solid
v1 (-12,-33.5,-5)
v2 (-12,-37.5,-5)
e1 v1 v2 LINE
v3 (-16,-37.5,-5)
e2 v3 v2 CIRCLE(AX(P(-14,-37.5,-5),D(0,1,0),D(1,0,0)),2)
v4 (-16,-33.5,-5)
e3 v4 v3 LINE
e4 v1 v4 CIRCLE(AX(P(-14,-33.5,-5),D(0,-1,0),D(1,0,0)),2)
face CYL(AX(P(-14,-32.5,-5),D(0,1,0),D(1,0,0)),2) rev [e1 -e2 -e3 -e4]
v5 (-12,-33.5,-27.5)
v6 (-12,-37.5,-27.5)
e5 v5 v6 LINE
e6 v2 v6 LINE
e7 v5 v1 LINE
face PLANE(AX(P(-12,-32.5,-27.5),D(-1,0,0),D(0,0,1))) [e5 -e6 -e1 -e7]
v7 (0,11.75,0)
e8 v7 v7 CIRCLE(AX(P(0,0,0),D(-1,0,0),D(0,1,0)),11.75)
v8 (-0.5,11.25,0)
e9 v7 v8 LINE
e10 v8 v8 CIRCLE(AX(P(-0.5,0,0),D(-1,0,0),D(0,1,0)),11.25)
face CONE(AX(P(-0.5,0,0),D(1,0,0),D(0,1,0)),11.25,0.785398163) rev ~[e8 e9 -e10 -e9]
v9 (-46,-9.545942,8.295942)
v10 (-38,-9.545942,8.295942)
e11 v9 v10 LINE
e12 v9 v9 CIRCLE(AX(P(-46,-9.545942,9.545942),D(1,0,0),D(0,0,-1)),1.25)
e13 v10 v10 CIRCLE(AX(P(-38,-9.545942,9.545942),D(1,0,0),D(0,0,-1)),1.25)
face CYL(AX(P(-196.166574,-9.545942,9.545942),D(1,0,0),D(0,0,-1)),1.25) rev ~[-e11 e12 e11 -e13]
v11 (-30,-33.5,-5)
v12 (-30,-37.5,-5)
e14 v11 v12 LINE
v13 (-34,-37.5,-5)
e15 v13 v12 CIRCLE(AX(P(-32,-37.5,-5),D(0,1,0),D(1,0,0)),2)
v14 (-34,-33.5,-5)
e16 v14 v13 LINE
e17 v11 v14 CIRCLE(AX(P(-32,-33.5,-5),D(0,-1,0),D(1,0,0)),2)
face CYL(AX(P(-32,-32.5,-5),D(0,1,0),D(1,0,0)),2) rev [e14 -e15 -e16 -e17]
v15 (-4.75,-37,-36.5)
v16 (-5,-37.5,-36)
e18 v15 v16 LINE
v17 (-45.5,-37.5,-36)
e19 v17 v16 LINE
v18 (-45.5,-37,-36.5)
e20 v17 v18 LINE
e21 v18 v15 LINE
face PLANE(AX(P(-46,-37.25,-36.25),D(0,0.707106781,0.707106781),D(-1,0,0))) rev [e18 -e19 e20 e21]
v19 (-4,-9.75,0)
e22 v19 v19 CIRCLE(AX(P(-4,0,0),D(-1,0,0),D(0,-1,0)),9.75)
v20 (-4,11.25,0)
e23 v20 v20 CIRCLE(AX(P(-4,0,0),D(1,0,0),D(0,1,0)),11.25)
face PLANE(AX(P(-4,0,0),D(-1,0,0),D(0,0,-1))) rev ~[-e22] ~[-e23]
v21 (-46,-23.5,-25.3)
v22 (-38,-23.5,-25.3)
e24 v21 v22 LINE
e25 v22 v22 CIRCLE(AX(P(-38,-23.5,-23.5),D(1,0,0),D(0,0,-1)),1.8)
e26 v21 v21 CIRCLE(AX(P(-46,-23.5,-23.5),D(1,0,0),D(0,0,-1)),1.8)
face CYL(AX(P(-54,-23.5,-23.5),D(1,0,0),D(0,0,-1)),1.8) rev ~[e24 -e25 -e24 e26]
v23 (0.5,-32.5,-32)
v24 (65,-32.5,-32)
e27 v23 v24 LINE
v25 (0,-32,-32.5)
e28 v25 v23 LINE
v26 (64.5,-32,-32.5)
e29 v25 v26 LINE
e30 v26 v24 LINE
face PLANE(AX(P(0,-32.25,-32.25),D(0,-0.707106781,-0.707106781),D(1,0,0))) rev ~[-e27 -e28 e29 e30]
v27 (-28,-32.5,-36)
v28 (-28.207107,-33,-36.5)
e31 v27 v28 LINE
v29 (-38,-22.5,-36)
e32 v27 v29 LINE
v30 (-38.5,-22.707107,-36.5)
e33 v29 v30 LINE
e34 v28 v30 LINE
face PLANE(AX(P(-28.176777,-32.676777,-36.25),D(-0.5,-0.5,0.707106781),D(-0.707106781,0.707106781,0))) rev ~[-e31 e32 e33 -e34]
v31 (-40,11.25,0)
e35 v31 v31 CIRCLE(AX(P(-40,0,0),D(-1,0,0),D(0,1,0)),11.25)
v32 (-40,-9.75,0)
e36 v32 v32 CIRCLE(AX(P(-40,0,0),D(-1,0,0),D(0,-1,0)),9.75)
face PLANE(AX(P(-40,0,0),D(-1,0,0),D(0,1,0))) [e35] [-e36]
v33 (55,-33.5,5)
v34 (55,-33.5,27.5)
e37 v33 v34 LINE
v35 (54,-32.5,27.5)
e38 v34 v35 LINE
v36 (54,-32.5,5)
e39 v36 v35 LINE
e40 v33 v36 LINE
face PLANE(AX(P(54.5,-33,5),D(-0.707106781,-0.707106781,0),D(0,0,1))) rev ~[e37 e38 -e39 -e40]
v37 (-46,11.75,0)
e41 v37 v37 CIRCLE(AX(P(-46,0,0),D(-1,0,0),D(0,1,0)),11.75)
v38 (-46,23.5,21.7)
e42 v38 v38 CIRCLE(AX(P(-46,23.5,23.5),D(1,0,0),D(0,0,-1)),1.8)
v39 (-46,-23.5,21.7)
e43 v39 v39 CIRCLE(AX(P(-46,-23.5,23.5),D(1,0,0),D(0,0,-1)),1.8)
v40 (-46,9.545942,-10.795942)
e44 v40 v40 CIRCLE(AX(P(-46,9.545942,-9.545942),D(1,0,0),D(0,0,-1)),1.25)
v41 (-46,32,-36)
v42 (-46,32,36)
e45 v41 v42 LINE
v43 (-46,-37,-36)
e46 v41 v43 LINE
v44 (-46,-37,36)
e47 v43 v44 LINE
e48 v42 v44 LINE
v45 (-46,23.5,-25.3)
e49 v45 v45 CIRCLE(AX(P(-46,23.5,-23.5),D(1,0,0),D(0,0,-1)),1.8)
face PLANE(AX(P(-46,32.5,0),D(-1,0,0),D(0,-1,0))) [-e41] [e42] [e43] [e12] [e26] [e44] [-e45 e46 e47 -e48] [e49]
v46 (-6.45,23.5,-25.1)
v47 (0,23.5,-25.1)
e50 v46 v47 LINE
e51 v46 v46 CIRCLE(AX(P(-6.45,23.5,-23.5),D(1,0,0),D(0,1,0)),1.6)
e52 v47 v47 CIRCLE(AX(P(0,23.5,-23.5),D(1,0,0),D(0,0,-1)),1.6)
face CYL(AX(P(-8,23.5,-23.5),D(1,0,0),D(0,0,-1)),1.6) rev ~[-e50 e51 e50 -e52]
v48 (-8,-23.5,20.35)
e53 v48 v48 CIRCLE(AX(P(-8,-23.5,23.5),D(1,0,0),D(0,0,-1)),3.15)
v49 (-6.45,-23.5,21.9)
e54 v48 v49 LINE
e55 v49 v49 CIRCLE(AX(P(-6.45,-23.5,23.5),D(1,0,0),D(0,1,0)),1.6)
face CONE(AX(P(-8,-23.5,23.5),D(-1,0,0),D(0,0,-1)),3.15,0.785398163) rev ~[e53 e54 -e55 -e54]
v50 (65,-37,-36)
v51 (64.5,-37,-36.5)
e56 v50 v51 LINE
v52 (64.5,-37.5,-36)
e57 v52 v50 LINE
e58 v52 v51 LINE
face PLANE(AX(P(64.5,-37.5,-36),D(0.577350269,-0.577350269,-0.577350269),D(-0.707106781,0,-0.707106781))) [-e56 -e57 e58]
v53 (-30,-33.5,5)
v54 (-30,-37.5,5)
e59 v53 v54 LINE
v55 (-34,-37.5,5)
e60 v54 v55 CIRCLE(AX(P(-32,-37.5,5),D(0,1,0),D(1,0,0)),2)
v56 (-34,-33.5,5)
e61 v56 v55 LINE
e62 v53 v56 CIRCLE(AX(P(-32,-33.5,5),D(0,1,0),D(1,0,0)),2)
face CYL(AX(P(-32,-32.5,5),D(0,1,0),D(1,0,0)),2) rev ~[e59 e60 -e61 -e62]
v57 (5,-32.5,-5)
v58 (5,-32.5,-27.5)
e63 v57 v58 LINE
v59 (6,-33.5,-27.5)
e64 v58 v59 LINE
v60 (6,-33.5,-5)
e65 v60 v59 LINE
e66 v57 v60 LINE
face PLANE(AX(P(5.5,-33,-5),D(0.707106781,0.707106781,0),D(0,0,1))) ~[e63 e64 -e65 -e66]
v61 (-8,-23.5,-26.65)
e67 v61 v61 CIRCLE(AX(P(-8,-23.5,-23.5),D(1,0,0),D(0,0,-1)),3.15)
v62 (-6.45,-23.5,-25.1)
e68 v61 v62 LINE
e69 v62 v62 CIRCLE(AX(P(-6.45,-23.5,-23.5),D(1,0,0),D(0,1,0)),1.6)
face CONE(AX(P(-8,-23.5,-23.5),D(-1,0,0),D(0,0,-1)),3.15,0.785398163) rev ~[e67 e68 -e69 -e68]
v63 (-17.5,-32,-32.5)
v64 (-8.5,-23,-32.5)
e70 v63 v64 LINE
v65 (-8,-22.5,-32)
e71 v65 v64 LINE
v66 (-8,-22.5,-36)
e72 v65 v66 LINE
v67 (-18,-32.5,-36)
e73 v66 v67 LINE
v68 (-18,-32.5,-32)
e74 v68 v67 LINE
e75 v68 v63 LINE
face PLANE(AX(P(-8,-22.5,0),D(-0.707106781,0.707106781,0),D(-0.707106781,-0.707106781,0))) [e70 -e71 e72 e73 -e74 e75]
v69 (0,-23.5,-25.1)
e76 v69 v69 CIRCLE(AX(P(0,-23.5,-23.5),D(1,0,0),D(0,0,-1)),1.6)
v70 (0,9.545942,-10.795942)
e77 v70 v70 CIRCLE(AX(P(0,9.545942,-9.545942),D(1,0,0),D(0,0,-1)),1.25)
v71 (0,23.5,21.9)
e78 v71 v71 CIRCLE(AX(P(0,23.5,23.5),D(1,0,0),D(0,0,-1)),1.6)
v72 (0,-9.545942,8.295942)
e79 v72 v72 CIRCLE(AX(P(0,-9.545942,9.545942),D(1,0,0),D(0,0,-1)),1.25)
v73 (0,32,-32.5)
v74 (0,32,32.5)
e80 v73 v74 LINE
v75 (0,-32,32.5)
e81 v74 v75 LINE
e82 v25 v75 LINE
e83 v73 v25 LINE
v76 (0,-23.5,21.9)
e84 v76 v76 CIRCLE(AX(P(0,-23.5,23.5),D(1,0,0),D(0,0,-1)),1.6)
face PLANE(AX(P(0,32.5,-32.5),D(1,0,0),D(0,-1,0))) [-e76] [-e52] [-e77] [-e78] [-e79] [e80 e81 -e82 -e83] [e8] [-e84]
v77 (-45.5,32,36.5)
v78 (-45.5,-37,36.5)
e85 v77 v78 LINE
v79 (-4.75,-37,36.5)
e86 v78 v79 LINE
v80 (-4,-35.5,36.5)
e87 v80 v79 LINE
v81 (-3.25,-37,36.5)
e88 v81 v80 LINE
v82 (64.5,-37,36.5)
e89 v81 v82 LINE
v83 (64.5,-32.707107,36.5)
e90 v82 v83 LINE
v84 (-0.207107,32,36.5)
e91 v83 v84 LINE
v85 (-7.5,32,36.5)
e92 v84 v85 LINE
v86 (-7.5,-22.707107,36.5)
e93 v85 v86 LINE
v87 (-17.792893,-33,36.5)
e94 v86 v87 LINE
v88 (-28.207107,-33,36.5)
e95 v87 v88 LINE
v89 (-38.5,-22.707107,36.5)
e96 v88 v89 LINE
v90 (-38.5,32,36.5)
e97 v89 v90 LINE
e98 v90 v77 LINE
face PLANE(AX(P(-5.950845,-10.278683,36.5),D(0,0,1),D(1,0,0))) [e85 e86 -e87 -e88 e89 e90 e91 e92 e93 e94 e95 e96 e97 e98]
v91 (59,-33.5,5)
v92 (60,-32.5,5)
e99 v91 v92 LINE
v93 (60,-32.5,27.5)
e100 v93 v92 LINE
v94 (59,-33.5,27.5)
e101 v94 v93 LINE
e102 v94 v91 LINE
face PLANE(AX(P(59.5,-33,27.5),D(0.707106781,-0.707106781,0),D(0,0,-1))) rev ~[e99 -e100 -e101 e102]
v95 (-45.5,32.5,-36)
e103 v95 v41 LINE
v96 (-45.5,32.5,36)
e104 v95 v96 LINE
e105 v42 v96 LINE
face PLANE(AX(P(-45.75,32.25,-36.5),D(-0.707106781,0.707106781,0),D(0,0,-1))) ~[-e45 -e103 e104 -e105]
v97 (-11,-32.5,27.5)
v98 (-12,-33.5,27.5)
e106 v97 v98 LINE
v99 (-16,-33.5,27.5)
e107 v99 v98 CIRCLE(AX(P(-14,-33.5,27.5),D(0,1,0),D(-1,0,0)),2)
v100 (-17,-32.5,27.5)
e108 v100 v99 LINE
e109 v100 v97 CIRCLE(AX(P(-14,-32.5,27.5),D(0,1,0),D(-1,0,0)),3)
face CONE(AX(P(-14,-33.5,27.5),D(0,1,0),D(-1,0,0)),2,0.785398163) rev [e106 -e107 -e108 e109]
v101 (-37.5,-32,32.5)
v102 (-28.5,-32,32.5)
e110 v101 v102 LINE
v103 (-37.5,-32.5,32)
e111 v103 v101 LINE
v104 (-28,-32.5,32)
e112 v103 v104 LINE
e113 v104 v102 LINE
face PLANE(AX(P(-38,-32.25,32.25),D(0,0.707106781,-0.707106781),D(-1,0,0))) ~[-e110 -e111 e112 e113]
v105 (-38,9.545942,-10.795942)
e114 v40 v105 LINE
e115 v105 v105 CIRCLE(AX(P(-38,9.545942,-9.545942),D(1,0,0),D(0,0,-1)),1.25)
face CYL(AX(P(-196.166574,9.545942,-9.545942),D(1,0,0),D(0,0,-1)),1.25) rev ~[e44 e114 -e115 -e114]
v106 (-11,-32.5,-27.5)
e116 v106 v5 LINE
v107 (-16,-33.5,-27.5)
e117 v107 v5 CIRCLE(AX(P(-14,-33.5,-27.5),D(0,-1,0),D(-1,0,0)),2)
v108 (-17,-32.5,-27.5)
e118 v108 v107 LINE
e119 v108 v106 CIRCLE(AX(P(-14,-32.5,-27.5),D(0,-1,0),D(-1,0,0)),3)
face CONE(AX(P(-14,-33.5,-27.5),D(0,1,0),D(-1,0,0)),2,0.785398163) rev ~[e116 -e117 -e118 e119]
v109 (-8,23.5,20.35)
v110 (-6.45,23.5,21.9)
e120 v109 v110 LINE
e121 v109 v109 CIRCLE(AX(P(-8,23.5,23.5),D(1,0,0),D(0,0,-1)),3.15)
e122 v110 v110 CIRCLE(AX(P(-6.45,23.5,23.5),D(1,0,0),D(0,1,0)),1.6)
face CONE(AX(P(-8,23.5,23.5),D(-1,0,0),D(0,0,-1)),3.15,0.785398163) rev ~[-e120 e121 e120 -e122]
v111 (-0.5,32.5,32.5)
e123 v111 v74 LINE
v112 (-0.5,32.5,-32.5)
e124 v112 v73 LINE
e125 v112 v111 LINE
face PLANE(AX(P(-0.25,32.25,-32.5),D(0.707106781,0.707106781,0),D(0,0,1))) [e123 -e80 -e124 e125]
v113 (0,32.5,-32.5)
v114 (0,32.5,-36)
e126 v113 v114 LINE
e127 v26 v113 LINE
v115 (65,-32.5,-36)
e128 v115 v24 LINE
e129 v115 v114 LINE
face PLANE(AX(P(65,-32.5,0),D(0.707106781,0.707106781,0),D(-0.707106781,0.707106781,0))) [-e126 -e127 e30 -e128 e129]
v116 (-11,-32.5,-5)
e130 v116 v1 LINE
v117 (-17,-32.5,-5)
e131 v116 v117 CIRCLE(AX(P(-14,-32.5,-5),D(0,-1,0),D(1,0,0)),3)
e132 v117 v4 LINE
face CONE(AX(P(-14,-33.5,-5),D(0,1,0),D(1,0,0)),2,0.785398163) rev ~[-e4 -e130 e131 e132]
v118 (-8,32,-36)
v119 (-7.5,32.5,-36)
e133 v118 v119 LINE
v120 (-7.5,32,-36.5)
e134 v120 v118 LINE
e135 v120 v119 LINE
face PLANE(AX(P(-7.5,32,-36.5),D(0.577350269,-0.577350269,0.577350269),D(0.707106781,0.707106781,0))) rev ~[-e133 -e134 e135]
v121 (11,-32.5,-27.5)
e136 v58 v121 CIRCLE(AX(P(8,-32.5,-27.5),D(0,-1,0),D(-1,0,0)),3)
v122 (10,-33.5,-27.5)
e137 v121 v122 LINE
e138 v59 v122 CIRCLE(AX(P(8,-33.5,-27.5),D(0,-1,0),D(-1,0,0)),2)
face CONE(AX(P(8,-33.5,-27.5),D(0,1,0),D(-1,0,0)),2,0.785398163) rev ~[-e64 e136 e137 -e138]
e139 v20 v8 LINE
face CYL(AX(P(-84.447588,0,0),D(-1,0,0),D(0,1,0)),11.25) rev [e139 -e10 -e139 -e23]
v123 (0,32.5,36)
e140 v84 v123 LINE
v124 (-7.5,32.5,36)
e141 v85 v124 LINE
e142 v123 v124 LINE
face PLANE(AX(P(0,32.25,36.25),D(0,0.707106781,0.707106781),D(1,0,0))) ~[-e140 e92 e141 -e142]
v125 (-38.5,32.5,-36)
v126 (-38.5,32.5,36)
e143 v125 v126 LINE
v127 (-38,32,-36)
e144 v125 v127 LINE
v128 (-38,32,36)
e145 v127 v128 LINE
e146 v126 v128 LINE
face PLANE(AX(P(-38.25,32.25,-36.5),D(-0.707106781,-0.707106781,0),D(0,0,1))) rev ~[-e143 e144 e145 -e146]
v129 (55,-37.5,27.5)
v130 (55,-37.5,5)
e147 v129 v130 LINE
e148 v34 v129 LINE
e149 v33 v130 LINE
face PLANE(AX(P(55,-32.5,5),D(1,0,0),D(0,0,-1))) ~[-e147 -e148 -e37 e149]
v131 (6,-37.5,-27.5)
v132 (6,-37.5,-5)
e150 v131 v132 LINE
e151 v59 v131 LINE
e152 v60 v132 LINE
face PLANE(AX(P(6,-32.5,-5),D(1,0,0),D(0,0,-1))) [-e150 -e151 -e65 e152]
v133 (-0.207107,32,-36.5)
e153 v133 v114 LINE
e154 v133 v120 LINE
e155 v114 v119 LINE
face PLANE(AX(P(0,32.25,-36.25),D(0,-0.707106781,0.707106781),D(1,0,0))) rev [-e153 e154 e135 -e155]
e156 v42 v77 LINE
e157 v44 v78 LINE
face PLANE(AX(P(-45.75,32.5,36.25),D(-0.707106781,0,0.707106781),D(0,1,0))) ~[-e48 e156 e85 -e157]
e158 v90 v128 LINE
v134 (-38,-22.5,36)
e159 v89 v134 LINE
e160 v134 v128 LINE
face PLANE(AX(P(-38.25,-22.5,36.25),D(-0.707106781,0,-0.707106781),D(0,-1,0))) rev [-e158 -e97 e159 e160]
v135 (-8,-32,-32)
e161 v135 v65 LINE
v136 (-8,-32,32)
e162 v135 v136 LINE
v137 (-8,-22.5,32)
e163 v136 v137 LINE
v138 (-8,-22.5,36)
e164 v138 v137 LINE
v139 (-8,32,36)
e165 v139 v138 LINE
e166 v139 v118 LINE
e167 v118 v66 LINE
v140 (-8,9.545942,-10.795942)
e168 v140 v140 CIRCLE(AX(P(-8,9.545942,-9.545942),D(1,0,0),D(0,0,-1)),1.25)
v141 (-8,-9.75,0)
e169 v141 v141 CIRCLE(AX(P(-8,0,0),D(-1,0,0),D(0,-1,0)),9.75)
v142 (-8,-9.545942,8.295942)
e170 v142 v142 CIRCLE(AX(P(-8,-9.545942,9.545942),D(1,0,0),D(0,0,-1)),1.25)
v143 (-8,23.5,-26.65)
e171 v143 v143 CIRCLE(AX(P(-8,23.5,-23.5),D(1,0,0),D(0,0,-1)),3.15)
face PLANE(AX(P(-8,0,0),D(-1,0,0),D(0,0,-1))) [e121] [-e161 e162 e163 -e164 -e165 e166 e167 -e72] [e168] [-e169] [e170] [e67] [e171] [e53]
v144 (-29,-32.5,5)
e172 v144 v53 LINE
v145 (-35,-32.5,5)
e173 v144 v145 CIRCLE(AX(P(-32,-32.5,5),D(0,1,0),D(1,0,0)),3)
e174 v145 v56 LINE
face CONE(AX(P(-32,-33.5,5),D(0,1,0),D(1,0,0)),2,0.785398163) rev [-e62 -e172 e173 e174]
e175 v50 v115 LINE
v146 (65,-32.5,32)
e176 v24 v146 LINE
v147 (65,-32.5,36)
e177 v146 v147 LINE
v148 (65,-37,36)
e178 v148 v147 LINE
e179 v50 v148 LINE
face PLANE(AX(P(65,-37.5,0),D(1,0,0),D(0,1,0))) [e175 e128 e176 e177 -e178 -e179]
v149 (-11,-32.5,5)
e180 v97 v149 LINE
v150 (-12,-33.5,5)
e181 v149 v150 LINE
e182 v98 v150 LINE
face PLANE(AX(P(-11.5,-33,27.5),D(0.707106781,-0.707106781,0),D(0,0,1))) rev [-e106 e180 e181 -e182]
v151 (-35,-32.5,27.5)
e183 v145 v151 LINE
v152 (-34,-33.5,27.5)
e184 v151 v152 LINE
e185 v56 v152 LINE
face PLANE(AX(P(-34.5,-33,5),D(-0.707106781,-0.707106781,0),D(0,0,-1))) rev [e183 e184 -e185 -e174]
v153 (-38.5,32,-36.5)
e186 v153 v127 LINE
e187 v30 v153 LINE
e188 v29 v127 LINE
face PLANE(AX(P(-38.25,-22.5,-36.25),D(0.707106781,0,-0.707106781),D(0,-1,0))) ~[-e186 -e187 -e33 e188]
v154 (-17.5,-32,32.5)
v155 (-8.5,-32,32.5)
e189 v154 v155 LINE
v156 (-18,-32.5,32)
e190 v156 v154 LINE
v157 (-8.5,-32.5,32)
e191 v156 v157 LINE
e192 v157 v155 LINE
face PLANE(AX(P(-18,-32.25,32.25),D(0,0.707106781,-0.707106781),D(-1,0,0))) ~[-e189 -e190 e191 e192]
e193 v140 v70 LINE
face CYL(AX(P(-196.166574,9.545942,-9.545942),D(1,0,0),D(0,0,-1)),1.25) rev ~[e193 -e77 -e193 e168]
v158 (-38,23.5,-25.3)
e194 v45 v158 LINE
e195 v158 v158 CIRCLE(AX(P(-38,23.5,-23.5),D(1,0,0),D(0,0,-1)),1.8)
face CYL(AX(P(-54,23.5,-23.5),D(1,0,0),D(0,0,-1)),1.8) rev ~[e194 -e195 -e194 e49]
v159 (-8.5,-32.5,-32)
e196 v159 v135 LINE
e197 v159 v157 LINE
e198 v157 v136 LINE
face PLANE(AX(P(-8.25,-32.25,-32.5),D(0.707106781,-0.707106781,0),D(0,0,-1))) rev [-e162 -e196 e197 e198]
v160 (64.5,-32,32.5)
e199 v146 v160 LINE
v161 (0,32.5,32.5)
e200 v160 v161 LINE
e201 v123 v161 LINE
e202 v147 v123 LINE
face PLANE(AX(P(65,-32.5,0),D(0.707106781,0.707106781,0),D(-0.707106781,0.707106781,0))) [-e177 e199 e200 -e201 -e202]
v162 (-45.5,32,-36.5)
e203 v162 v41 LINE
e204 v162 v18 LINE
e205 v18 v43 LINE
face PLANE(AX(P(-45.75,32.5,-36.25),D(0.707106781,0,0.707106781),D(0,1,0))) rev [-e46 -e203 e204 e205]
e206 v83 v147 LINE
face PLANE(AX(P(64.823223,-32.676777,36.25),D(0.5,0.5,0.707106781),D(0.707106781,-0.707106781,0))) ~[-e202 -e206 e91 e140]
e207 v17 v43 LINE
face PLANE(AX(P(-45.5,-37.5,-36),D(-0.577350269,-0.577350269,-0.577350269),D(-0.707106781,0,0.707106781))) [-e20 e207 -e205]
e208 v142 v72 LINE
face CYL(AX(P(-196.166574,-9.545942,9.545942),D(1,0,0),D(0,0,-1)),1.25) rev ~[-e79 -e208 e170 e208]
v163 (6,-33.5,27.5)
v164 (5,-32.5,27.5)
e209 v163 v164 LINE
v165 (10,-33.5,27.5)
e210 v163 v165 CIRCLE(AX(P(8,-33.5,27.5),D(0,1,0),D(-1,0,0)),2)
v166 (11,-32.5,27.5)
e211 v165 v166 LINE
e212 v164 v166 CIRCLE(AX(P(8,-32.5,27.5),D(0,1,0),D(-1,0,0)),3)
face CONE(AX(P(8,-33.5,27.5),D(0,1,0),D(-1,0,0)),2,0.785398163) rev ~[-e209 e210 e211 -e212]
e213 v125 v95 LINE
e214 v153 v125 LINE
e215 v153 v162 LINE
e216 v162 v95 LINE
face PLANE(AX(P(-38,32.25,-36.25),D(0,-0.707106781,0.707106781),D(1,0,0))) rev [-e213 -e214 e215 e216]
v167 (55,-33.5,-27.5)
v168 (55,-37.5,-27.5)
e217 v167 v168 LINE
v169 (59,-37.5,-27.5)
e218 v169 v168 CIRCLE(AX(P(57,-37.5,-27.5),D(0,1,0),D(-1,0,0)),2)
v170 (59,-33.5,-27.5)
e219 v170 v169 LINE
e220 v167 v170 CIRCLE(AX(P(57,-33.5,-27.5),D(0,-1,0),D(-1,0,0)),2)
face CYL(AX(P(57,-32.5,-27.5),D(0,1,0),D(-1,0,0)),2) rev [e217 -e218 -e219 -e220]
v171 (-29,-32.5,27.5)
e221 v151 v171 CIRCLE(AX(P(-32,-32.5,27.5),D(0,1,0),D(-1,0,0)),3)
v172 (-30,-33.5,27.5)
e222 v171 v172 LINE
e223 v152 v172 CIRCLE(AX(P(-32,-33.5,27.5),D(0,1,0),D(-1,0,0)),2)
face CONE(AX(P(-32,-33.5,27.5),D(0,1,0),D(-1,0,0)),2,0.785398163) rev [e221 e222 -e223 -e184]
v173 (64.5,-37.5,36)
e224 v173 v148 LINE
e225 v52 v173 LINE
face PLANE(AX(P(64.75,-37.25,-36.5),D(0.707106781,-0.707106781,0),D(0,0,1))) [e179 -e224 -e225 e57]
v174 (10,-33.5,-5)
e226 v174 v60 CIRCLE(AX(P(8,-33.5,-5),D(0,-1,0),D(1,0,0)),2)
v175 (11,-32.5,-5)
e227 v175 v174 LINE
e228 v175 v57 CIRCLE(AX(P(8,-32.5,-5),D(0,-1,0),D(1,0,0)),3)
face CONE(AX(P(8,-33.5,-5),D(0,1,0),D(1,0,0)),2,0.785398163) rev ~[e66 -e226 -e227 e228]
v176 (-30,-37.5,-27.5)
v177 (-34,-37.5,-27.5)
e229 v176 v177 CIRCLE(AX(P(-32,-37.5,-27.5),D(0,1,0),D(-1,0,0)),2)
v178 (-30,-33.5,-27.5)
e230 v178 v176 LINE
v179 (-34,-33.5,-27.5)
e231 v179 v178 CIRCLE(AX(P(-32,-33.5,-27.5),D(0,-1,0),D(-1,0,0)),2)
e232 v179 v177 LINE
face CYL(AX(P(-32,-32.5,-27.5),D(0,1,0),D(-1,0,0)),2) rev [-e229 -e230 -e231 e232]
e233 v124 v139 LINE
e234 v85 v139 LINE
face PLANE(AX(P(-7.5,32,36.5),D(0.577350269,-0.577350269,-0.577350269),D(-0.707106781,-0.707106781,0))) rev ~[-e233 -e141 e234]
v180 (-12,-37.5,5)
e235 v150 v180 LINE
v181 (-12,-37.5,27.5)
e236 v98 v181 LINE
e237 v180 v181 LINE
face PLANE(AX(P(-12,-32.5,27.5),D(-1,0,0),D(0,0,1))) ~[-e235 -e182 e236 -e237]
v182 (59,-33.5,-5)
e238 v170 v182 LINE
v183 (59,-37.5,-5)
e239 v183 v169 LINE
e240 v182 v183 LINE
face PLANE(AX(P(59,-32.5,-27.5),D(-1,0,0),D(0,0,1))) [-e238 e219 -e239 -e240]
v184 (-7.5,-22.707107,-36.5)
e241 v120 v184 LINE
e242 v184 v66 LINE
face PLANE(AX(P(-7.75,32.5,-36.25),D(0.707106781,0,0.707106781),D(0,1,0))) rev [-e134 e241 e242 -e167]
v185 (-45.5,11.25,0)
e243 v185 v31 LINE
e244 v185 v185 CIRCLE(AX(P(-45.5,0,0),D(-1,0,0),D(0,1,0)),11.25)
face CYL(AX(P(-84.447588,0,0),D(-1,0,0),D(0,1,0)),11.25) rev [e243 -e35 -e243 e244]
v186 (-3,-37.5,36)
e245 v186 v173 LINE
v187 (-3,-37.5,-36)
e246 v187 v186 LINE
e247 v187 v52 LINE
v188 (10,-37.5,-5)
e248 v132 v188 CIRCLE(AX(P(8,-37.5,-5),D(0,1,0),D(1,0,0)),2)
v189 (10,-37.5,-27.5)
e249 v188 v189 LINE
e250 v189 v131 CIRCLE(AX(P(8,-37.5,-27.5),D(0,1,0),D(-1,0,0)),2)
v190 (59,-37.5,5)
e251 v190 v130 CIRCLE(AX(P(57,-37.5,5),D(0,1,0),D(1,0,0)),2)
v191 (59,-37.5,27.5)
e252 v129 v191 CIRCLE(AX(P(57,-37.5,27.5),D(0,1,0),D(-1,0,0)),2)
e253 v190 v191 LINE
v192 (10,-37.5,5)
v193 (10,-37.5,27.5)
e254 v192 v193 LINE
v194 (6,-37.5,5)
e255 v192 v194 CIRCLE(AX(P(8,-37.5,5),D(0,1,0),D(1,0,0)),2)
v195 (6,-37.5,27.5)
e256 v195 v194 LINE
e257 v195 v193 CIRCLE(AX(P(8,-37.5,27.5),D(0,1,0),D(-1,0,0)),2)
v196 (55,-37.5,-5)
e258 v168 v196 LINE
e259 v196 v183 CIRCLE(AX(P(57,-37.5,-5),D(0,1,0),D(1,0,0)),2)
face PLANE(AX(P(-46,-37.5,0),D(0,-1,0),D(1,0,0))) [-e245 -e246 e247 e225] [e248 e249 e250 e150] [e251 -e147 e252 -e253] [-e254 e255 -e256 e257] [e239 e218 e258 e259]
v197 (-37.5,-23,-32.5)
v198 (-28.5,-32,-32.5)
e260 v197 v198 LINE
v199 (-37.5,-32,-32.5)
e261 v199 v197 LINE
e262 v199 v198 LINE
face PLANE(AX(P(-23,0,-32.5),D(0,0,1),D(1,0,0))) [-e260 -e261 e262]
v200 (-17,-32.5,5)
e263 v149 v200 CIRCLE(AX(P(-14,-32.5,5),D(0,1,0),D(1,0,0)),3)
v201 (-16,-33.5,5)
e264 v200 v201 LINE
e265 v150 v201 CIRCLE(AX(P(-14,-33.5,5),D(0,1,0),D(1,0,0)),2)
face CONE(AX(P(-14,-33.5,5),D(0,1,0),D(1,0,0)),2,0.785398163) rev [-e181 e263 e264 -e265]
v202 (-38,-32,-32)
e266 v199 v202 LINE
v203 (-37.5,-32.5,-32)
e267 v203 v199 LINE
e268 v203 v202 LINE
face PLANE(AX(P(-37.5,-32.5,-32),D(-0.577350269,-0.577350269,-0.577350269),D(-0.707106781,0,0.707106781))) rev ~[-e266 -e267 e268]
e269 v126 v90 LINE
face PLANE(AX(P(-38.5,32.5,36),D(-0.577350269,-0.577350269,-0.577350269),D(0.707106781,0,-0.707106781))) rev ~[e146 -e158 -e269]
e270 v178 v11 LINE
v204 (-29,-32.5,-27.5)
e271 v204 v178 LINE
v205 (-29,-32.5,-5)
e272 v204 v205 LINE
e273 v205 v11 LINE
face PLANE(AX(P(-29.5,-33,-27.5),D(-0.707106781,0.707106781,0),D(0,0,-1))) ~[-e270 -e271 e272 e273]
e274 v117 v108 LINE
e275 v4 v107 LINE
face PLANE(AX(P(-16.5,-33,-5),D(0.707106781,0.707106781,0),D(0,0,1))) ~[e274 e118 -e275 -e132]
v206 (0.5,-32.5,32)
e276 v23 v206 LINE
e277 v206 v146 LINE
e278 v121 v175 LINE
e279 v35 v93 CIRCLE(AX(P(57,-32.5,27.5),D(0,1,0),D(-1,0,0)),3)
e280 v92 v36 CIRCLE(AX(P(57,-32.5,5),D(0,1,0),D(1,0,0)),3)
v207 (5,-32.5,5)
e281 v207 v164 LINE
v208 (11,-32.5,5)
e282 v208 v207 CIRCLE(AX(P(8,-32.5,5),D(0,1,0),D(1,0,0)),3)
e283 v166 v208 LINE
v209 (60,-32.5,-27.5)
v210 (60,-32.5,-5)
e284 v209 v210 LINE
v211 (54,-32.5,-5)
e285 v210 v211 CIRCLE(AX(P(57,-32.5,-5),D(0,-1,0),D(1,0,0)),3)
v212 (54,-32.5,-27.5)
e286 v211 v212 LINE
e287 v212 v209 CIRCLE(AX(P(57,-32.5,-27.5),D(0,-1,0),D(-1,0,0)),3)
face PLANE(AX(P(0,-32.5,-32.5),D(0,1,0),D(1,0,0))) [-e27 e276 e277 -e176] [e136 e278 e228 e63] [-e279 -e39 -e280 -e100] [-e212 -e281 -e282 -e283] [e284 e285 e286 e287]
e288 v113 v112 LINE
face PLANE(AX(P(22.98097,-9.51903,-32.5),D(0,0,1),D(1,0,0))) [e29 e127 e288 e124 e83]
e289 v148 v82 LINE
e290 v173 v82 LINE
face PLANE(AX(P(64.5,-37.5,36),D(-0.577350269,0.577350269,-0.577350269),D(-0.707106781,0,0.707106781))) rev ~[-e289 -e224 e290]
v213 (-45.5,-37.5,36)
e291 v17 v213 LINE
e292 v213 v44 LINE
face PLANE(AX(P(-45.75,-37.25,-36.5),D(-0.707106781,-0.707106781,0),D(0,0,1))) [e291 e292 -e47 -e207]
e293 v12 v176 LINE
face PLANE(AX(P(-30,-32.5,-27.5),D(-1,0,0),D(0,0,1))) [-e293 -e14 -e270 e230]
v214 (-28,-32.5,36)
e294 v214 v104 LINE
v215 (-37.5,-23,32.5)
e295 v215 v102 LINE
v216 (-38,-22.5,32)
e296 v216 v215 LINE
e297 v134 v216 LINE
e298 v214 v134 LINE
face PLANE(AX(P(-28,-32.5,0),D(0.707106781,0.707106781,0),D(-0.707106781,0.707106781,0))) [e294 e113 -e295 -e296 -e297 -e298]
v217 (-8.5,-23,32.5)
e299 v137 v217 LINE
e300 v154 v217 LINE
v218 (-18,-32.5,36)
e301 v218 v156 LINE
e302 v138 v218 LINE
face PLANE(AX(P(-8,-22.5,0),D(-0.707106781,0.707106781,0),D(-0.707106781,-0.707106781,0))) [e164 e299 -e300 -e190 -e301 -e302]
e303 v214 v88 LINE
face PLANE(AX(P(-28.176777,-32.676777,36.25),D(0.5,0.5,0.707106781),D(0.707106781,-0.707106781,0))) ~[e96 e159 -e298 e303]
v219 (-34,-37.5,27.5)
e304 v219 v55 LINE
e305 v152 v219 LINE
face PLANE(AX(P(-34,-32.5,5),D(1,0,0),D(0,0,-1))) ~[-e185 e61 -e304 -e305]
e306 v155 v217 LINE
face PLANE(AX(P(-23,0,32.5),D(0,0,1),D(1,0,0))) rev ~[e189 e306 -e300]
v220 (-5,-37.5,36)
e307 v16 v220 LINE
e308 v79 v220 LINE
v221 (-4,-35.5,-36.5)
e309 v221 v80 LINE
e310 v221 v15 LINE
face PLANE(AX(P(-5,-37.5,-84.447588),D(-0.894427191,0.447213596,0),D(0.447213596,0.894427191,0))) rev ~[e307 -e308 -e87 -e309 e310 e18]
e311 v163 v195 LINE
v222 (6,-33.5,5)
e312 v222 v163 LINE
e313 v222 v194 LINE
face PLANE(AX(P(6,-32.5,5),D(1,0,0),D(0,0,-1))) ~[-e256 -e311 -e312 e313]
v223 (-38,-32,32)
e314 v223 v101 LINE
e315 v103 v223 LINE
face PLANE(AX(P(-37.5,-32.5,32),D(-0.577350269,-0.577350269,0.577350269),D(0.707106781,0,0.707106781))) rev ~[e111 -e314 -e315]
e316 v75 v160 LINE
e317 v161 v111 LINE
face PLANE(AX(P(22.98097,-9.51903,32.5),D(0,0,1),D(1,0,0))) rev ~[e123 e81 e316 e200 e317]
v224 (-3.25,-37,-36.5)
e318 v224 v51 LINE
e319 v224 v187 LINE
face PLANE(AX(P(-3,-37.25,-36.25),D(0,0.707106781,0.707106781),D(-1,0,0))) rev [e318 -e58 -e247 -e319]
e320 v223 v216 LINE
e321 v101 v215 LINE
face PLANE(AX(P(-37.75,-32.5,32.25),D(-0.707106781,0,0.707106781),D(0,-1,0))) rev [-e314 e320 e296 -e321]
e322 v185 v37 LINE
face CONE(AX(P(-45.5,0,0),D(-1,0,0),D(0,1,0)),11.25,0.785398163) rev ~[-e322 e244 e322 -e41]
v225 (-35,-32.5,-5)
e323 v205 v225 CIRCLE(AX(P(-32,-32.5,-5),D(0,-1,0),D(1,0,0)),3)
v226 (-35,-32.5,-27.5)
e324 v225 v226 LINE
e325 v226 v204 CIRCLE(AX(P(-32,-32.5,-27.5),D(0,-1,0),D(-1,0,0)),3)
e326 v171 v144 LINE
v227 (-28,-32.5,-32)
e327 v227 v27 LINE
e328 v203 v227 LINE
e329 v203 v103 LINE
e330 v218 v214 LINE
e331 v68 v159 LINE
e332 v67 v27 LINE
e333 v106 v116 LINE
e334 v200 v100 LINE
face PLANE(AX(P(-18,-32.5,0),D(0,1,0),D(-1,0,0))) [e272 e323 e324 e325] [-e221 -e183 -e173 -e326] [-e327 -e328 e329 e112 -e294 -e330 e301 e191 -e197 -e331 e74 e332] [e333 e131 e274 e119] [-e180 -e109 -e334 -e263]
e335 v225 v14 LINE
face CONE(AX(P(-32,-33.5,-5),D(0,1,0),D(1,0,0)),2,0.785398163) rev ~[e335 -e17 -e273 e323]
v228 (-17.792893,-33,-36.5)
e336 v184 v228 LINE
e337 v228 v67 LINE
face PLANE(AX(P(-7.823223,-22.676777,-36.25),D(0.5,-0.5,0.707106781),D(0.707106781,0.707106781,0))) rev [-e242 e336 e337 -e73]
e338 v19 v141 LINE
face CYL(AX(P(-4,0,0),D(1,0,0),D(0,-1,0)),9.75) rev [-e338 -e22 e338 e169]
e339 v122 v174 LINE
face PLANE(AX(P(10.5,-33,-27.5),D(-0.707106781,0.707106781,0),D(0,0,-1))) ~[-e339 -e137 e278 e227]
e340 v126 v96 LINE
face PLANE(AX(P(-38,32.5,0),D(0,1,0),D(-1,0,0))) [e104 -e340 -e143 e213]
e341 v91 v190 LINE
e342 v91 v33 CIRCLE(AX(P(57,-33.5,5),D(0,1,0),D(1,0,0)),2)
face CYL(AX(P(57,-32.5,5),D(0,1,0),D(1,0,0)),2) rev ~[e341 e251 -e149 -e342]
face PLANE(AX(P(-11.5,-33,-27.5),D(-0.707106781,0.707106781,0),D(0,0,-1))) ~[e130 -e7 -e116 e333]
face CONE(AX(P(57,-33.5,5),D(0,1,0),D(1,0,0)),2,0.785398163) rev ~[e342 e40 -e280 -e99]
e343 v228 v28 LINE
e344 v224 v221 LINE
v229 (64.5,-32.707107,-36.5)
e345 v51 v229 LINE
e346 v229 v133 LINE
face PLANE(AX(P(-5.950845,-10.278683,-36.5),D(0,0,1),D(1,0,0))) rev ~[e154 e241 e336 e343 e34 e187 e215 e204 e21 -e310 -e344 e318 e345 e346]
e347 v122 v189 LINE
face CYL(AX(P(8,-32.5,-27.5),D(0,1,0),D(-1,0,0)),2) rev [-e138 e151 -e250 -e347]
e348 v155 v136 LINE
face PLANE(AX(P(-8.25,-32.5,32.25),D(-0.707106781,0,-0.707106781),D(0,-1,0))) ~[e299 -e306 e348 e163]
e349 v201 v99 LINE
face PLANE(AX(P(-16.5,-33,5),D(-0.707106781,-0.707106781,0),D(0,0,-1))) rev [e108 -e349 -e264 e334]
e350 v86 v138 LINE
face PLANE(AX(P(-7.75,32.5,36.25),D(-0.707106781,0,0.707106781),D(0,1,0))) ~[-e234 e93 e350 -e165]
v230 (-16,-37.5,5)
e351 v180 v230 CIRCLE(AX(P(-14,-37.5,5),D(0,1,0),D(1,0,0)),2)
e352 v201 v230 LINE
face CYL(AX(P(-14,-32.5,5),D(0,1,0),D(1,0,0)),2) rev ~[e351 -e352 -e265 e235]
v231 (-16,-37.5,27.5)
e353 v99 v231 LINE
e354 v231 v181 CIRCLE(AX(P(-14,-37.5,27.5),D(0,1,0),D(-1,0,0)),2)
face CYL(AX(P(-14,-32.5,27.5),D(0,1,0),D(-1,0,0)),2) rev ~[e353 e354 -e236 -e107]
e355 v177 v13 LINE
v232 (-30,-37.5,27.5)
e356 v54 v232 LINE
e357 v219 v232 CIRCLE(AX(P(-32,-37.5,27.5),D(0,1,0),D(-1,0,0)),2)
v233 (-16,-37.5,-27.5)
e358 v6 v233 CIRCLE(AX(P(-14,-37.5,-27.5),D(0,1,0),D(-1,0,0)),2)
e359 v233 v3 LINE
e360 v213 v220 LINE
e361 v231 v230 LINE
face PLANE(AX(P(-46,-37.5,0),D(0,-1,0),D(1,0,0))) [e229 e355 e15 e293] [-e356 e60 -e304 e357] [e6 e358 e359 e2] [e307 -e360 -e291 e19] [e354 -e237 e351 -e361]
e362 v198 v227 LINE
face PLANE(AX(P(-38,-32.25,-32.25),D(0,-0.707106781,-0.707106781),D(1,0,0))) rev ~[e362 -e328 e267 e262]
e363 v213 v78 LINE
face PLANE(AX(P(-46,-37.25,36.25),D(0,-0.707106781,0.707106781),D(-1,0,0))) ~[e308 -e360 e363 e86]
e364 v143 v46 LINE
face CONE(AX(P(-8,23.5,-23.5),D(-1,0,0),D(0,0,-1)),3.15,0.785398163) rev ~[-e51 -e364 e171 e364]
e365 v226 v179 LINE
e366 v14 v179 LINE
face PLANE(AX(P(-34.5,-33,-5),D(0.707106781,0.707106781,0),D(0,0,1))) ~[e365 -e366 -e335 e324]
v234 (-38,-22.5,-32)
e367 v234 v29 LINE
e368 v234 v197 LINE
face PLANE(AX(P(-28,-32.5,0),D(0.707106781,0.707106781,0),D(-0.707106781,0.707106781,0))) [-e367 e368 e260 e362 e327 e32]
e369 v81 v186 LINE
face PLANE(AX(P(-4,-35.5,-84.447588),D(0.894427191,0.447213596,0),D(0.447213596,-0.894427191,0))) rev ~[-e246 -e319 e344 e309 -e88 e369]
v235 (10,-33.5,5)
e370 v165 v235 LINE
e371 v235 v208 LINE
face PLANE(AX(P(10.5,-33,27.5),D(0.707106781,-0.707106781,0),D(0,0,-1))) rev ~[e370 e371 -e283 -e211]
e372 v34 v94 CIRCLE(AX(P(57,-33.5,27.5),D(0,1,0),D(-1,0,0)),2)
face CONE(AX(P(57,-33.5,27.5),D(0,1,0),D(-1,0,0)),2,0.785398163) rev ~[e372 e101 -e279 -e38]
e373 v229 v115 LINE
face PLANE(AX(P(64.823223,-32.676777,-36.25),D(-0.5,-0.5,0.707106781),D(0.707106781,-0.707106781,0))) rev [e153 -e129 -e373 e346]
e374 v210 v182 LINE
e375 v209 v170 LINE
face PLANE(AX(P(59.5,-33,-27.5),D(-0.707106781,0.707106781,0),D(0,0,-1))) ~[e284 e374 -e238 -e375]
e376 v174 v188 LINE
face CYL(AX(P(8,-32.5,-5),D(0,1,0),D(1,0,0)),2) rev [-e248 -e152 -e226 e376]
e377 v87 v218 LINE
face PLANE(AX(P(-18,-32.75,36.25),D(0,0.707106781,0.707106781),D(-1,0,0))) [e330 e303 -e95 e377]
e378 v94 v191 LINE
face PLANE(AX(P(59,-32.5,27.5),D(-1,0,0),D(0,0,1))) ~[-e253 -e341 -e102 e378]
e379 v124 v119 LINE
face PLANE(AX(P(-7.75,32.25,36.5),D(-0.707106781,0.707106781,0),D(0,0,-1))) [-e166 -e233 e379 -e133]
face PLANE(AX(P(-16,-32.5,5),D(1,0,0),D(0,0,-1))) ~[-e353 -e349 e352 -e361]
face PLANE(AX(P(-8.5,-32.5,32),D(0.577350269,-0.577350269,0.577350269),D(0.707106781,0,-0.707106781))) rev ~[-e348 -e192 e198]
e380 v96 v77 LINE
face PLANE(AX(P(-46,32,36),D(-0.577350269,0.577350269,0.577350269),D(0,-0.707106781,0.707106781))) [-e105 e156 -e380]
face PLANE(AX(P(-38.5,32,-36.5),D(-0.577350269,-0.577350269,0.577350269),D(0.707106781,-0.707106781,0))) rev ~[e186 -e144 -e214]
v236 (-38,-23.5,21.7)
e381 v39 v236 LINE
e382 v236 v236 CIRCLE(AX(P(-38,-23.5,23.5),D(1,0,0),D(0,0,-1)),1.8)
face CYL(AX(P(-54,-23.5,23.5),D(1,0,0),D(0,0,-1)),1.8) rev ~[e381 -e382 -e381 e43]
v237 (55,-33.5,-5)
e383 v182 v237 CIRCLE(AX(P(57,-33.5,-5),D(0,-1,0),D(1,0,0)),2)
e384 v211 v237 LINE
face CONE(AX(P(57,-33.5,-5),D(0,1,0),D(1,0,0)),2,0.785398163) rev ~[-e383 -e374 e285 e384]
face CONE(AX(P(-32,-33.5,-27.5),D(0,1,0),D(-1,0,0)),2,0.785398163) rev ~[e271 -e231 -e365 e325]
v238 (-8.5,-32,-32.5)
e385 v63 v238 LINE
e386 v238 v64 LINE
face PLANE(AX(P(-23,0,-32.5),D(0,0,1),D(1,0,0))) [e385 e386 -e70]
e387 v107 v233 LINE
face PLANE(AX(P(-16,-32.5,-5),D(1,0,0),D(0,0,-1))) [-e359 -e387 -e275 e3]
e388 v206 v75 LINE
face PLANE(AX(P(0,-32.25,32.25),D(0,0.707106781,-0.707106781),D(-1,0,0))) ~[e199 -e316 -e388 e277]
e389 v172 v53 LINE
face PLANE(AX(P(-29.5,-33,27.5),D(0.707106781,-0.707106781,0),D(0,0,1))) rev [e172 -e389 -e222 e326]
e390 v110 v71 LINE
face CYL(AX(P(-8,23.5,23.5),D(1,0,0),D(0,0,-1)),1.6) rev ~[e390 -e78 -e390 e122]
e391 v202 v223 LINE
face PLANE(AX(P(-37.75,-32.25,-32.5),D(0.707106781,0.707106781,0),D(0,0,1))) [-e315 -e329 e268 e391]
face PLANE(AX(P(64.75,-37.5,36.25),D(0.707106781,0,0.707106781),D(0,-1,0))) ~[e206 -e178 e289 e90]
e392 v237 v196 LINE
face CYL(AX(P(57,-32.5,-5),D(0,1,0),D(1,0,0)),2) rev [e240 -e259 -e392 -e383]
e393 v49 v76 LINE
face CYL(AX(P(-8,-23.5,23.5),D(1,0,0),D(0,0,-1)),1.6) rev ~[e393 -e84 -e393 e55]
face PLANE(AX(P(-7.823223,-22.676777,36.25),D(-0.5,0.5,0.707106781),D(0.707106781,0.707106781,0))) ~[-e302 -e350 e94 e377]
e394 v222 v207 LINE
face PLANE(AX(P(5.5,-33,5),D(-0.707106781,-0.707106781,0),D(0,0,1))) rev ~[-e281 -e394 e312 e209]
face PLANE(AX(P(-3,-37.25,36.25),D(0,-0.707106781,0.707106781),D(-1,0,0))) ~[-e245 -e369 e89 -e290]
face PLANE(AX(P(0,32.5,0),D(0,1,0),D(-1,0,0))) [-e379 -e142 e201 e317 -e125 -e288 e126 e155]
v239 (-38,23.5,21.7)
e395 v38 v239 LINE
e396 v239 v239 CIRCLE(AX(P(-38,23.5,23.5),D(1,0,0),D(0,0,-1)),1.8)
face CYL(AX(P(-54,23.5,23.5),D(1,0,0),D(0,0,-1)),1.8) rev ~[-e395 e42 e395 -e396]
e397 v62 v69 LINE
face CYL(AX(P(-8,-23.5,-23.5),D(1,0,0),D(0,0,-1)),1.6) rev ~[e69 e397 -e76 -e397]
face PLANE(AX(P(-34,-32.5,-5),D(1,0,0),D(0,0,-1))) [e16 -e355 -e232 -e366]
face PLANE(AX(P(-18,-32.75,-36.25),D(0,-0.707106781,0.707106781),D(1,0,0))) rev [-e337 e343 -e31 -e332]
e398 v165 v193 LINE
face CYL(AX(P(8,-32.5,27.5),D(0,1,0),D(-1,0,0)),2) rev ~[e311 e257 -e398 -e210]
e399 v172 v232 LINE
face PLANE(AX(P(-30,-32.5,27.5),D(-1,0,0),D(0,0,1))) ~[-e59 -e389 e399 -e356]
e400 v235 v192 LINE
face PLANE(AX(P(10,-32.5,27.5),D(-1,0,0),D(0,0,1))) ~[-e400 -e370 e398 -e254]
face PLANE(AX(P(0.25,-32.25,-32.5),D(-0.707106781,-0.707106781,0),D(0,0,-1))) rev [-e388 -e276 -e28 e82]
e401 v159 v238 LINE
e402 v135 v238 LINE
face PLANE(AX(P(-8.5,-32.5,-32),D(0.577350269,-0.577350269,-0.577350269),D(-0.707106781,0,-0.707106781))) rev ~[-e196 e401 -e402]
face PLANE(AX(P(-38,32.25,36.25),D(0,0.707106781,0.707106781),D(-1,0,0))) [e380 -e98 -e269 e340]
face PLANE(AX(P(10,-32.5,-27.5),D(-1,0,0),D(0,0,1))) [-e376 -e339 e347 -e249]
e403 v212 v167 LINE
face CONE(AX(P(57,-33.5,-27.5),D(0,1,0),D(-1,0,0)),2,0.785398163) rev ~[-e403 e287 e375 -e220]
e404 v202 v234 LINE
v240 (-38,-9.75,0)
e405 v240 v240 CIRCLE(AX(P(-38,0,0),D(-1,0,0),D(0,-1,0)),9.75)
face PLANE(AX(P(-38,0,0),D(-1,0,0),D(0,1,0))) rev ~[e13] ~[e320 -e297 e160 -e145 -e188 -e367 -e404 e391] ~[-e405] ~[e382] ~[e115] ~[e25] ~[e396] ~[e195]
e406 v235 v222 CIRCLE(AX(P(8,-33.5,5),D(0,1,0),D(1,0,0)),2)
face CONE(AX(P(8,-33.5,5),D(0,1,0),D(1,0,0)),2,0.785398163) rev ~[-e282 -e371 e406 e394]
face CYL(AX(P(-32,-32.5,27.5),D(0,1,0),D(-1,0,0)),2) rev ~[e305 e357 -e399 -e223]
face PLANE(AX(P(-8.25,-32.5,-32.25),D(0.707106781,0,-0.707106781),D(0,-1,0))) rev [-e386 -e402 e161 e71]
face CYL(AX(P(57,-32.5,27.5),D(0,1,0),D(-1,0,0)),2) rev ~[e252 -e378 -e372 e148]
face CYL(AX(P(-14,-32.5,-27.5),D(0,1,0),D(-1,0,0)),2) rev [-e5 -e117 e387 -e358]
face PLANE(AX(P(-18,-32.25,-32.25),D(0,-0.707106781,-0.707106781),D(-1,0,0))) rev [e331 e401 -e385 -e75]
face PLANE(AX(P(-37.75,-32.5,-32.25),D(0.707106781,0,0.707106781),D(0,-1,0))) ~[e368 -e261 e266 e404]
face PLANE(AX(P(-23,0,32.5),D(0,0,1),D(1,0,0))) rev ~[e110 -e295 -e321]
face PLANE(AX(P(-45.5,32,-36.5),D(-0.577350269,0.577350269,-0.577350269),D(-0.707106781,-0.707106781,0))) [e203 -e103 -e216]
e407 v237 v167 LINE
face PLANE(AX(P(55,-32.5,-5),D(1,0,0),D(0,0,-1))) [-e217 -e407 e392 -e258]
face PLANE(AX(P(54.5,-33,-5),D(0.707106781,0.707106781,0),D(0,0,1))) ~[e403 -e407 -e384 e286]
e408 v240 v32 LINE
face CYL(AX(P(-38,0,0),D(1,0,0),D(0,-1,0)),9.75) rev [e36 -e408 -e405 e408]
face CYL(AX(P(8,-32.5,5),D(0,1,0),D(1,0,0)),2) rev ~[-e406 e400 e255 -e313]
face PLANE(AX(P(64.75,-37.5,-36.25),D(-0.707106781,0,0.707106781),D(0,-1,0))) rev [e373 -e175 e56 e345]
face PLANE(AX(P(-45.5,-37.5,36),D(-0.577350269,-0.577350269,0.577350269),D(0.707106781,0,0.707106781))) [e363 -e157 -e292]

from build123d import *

# Parameters (mm, degrees)
BOSS_EXTRUDE1_DEPTH                             = 36.5
CUT_EXTRUDE1_DEPTH                              = 32.5
CUT_EXTRUDE1_DEPTH_BACK                         = 32.5
SKETCH2_W                                       = 30
SKETCH2_H                                       = 65
CUT_EXTRUDE2_DEPTH                              = 84.447588341
CUT_EXTRUDE2_DEPTH_BACK                         = 84.447588341
SKETCH3_R                                       = 11.25
SKETCH4_R                                       = 11.25
SKETCH4_R_2                                     = 9.75
BOSS_EXTRUDE2_DEPTH                             = 2
TAP_DRILL_FOR_M3X0_5_TAP1_D                     = 2.5
CSK_FOR_M3_FLAT_HEAD_MACHINE_SCREW1_D           = 3.2
CSK_FOR_M3_FLAT_HEAD_MACHINE_SCREW1_DEPTH       = 8
CSK_FOR_M3_FLAT_HEAD_MACHINE_SCREW1_CSINK_D     = 6.3
CSK_FOR_M3_FLAT_HEAD_MACHINE_SCREW1_CSINK_ANGLE = 90
CUT_EXTRUDE4_DEPTH                              = 84.447588341
CUT_EXTRUDE4_DEPTH_BACK                         = 84.447588341
CHAMFER1_SIZE                                   = 0.5
BOSS_EXTRUDE3_START                             = -34
SKETCH4_2_R                                     = 11.25
SKETCH4_2_R_2                                   = 9.75
BOSS_EXTRUDE3_DEPTH                             = 4
M3_CLEARANCE_HOLE1_D                            = 3.6
M3_CLEARANCE_HOLE1_DEPTH                        = 8
CUT_EXTRUDE3_DEPTH                              = 99.905257696
CHAMFER2_SIZE                                   = 1
CHAMFER2_OF_MIRROR1_SIZE                        = 1


with BuildPart() as part:
    # Sketch1 → Boss-Extrude1 (new, symmetric)
    with BuildSketch(Plane.XY):
        Polygon((-8, 32.5), (-8, -22.5), (-18, -32.5), (-28, -32.5), (-38, -22.5), (-38, 32.5), (-46, 32.5), (-46, -37.5), (65, -37.5), (65, -32.5), (0, 32.5), align=None)
    extrude(amount=BOSS_EXTRUDE1_DEPTH, both=True)

    # Sketch2 → Cut-Extrude1 (cut, two sides: drawn at the far end of the back side and taken through both)
    with BuildSketch(Plane.XY.offset(-CUT_EXTRUDE1_DEPTH_BACK)):
        with Locations((-23, 0)):
            Rectangle(SKETCH2_W, SKETCH2_H)
        Polygon((0, 32.5), (0, -32.5), (65, -32.5), align=None)
    extrude(amount=CUT_EXTRUDE1_DEPTH + CUT_EXTRUDE1_DEPTH_BACK, mode=Mode.SUBTRACT)

    # Sketch3 → Cut-Extrude2 (cut, two sides: drawn at the far end of the back side and taken through both)
    with BuildSketch(Plane(origin=(0, 0, 0), x_dir=(0, 0, -1), z_dir=(1, 0, 0)).offset(-CUT_EXTRUDE2_DEPTH_BACK)):
        with Locations(Location((0, 0, 0), (0, 0, 90))):
            Circle(SKETCH3_R)
    extrude(amount=CUT_EXTRUDE2_DEPTH + CUT_EXTRUDE2_DEPTH_BACK, mode=Mode.SUBTRACT)

    # Sketch4 → Boss-Extrude2 (add)
    with BuildSketch(Plane.ZY.offset(38)):
        with Locations(Location((0, 0, 0), (0, 0, 90))):
            Circle(SKETCH4_R)
        with Locations(Location((0, 0, 0), (0, 0, 270))):
            Circle(SKETCH4_R_2, mode=Mode.SUBTRACT)
    extrude(amount=BOSS_EXTRUDE2_DEPTH)

    # Tap Drill for M3x0.5 Tap1 (through all)
    with Locations(Plane.ZY.offset(46)):
        with Locations((-9.545941546, 9.545941546), (9.545941546, -9.545941546)):
            Hole(TAP_DRILL_FOR_M3X0_5_TAP1_D / 2)

    # CSK for M3 Flat Head Machine Screw1
    with Locations(Plane.ZY.offset(8)):
        with Locations((-23.5, 23.5), (23.5, 23.5), (23.5, -23.5), (-23.5, -23.5), (0, 0)):
            CounterSinkHole(CSK_FOR_M3_FLAT_HEAD_MACHINE_SCREW1_D / 2, CSK_FOR_M3_FLAT_HEAD_MACHINE_SCREW1_CSINK_D / 2, depth=CSK_FOR_M3_FLAT_HEAD_MACHINE_SCREW1_DEPTH, counter_sink_angle=CSK_FOR_M3_FLAT_HEAD_MACHINE_SCREW1_CSINK_ANGLE)

    # Sketch21 → Cut-Extrude4 (cut, two sides: drawn at the far end of the back side and taken through both)
    with BuildSketch(Plane.XY.offset(-CUT_EXTRUDE4_DEPTH_BACK)):
        Polygon((-5, -37.5), (-4, -35.5), (-3, -37.5), align=None)
    extrude(amount=CUT_EXTRUDE4_DEPTH + CUT_EXTRUDE4_DEPTH_BACK, mode=Mode.SUBTRACT)

    # Chamfer1
    chamfer1_edges = [part.edges().sort_by_distance(p)[0] for p in [
        (0, -11.25, 0),
        (-46, -11.25, 0),
        (-8, -27.5, -32.5),
        (-8, -27.5, 32.5),
        (-13, -32.5, 32.5),
        (-8, -32.5, 0),
        (-13, -32.5, -32.5),
        (-38, -27.5, 32.5),
        (-38, -27.5, -32.5),
        (-33, -32.5, -32.5),
        (-38, -32.5, 0),
        (-33, -32.5, 32.5),
        (32.5, -32.5, 32.5),
        (0, -32.5, 0),
        (32.5, -32.5, -32.5),
        (0, 32.5, 0),
        (-8, 32.5, 0),
        (-4, 32.5, 36.5),
        (-8, 5, 36.5),
        (-13, -27.5, 36.5),
        (-23, -32.5, 36.5),
        (-33, -27.5, 36.5),
        (-38, 5, 36.5),
        (-42, 32.5, 36.5),
        (-38, 32.5, 0),
        (-46, 32.5, 0),
        (-42, 32.5, -36.5),
        (-38, 5, -36.5),
        (-33, -27.5, -36.5),
        (-23, -32.5, -36.5),
        (-13, -27.5, -36.5),
        (-8, 5, -36.5),
        (-4, 32.5, -36.5),
        (32.5, 0, 36.5),
        (32.5, 0, -36.5),
        (65, -35, 36.5),
        (65, -35, -36.5),
        (-46, -2.5, -36.5),
        (-46, -2.5, 36.5),
        (65, -37.5, 0),
        (-25.5, -37.5, -36.5),
        (31, -37.5, -36.5),
        (-46, -37.5, 0),
        (31, -37.5, 36.5),
        (-25.5, -37.5, 36.5),
    ]]
    chamfer(chamfer1_edges, length=CHAMFER1_SIZE)

    # Sketch4<2> → Boss-Extrude3 (add)
    with BuildSketch(Plane.ZY.offset(38).offset(BOSS_EXTRUDE3_START)):
        with Locations(Location((0, 0, 0), (0, 0, 180))):
            Circle(SKETCH4_2_R)
        with Locations(Location((0, 0, 0), (0, 0, 270))):
            Circle(SKETCH4_2_R_2, mode=Mode.SUBTRACT)
    extrude(amount=BOSS_EXTRUDE3_DEPTH)

    # M3 Clearance Hole1
    with Locations(Plane.ZY.offset(46)):
        with Locations((-23.5, -23.5), (23.5, -23.5), (23.5, 23.5), (-23.5, 23.5)):
            Hole(M3_CLEARANCE_HOLE1_D / 2, depth=M3_CLEARANCE_HOLE1_DEPTH)

    # Sketch19 → Cut-Extrude3 (cut, through all)
    with BuildSketch(Plane(origin=(0, -32.5, 0), x_dir=(1, 0, 0), z_dir=(0, 1, 0))):
        with BuildLine():
            Line((-34, 5), (-34, 27.5))
            ThreePointArc((-34, 27.5), (-32, 29.5), (-30, 27.5))
            Line((-30, 27.5), (-30, 5))
            ThreePointArc((-30, 5), (-32, 3), (-34, 5))
        make_face()
        with BuildLine():
            Line((-16, 5), (-16, 27.5))
            ThreePointArc((-16, 27.5), (-14, 29.5), (-12, 27.5))
            Line((-12, 27.5), (-12, 5))
            ThreePointArc((-12, 5), (-14, 3), (-16, 5))
        make_face()
        with BuildLine():
            Line((6, 5), (6, 27.5))
            ThreePointArc((6, 27.5), (8, 29.5), (10, 27.5))
            Line((10, 27.5), (10, 5))
            ThreePointArc((10, 5), (8, 3), (6, 5))
        make_face()
        with BuildLine():
            Line((55, 5), (55, 27.5))
            ThreePointArc((55, 27.5), (57, 29.5), (59, 27.5))
            Line((59, 27.5), (59, 5))
            ThreePointArc((59, 5), (57, 3), (55, 5))
        make_face()
    cut_extrude3 = extrude(amount=-CUT_EXTRUDE3_DEPTH, mode=Mode.SUBTRACT)

    # Chamfer2
    chamfer2_edges = [part.edges().sort_by_distance(p)[0] for p in [
        (-32, -32.5, -3),
        (-30, -32.5, -16.25),
        (-32, -32.5, -29.5),
        (-34, -32.5, -16.25),
        (-14, -32.5, -3),
        (-12, -32.5, -16.25),
        (-14, -32.5, -29.5),
        (-16, -32.5, -16.25),
        (8, -32.5, -3),
        (10, -32.5, -16.25),
        (8, -32.5, -29.5),
        (6, -32.5, -16.25),
        (57, -32.5, -3),
        (59, -32.5, -16.25),
        (57, -32.5, -29.5),
        (55, -32.5, -16.25),
    ]]
    chamfer(chamfer2_edges, length=CHAMFER2_SIZE)

    # Mirror1: Cut-Extrude3 across plane
    add(cut_extrude3.mirror(Plane.XY), mode=Mode.SUBTRACT)

    # Chamfer2 of Mirror1
    chamfer2_of_mirror1_edges = [part.edges().sort_by_distance(p)[0] for p in [
        (-32, -32.5, 3),
        (-30, -32.5, 16.25),
        (-32, -32.5, 29.5),
        (-34, -32.5, 16.25),
        (-14, -32.5, 3),
        (-12, -32.5, 16.25),
        (-14, -32.5, 29.5),
        (-16, -32.5, 16.25),
        (8, -32.5, 3),
        (10, -32.5, 16.25),
        (8, -32.5, 29.5),
        (6, -32.5, 16.25),
        (57, -32.5, 3),
        (59, -32.5, 16.25),
        (57, -32.5, 29.5),
        (55, -32.5, 16.25),
    ]]
    chamfer(chamfer2_of_mirror1_edges, length=CHAMFER2_OF_MIRROR1_SIZE)


solid = part.part
